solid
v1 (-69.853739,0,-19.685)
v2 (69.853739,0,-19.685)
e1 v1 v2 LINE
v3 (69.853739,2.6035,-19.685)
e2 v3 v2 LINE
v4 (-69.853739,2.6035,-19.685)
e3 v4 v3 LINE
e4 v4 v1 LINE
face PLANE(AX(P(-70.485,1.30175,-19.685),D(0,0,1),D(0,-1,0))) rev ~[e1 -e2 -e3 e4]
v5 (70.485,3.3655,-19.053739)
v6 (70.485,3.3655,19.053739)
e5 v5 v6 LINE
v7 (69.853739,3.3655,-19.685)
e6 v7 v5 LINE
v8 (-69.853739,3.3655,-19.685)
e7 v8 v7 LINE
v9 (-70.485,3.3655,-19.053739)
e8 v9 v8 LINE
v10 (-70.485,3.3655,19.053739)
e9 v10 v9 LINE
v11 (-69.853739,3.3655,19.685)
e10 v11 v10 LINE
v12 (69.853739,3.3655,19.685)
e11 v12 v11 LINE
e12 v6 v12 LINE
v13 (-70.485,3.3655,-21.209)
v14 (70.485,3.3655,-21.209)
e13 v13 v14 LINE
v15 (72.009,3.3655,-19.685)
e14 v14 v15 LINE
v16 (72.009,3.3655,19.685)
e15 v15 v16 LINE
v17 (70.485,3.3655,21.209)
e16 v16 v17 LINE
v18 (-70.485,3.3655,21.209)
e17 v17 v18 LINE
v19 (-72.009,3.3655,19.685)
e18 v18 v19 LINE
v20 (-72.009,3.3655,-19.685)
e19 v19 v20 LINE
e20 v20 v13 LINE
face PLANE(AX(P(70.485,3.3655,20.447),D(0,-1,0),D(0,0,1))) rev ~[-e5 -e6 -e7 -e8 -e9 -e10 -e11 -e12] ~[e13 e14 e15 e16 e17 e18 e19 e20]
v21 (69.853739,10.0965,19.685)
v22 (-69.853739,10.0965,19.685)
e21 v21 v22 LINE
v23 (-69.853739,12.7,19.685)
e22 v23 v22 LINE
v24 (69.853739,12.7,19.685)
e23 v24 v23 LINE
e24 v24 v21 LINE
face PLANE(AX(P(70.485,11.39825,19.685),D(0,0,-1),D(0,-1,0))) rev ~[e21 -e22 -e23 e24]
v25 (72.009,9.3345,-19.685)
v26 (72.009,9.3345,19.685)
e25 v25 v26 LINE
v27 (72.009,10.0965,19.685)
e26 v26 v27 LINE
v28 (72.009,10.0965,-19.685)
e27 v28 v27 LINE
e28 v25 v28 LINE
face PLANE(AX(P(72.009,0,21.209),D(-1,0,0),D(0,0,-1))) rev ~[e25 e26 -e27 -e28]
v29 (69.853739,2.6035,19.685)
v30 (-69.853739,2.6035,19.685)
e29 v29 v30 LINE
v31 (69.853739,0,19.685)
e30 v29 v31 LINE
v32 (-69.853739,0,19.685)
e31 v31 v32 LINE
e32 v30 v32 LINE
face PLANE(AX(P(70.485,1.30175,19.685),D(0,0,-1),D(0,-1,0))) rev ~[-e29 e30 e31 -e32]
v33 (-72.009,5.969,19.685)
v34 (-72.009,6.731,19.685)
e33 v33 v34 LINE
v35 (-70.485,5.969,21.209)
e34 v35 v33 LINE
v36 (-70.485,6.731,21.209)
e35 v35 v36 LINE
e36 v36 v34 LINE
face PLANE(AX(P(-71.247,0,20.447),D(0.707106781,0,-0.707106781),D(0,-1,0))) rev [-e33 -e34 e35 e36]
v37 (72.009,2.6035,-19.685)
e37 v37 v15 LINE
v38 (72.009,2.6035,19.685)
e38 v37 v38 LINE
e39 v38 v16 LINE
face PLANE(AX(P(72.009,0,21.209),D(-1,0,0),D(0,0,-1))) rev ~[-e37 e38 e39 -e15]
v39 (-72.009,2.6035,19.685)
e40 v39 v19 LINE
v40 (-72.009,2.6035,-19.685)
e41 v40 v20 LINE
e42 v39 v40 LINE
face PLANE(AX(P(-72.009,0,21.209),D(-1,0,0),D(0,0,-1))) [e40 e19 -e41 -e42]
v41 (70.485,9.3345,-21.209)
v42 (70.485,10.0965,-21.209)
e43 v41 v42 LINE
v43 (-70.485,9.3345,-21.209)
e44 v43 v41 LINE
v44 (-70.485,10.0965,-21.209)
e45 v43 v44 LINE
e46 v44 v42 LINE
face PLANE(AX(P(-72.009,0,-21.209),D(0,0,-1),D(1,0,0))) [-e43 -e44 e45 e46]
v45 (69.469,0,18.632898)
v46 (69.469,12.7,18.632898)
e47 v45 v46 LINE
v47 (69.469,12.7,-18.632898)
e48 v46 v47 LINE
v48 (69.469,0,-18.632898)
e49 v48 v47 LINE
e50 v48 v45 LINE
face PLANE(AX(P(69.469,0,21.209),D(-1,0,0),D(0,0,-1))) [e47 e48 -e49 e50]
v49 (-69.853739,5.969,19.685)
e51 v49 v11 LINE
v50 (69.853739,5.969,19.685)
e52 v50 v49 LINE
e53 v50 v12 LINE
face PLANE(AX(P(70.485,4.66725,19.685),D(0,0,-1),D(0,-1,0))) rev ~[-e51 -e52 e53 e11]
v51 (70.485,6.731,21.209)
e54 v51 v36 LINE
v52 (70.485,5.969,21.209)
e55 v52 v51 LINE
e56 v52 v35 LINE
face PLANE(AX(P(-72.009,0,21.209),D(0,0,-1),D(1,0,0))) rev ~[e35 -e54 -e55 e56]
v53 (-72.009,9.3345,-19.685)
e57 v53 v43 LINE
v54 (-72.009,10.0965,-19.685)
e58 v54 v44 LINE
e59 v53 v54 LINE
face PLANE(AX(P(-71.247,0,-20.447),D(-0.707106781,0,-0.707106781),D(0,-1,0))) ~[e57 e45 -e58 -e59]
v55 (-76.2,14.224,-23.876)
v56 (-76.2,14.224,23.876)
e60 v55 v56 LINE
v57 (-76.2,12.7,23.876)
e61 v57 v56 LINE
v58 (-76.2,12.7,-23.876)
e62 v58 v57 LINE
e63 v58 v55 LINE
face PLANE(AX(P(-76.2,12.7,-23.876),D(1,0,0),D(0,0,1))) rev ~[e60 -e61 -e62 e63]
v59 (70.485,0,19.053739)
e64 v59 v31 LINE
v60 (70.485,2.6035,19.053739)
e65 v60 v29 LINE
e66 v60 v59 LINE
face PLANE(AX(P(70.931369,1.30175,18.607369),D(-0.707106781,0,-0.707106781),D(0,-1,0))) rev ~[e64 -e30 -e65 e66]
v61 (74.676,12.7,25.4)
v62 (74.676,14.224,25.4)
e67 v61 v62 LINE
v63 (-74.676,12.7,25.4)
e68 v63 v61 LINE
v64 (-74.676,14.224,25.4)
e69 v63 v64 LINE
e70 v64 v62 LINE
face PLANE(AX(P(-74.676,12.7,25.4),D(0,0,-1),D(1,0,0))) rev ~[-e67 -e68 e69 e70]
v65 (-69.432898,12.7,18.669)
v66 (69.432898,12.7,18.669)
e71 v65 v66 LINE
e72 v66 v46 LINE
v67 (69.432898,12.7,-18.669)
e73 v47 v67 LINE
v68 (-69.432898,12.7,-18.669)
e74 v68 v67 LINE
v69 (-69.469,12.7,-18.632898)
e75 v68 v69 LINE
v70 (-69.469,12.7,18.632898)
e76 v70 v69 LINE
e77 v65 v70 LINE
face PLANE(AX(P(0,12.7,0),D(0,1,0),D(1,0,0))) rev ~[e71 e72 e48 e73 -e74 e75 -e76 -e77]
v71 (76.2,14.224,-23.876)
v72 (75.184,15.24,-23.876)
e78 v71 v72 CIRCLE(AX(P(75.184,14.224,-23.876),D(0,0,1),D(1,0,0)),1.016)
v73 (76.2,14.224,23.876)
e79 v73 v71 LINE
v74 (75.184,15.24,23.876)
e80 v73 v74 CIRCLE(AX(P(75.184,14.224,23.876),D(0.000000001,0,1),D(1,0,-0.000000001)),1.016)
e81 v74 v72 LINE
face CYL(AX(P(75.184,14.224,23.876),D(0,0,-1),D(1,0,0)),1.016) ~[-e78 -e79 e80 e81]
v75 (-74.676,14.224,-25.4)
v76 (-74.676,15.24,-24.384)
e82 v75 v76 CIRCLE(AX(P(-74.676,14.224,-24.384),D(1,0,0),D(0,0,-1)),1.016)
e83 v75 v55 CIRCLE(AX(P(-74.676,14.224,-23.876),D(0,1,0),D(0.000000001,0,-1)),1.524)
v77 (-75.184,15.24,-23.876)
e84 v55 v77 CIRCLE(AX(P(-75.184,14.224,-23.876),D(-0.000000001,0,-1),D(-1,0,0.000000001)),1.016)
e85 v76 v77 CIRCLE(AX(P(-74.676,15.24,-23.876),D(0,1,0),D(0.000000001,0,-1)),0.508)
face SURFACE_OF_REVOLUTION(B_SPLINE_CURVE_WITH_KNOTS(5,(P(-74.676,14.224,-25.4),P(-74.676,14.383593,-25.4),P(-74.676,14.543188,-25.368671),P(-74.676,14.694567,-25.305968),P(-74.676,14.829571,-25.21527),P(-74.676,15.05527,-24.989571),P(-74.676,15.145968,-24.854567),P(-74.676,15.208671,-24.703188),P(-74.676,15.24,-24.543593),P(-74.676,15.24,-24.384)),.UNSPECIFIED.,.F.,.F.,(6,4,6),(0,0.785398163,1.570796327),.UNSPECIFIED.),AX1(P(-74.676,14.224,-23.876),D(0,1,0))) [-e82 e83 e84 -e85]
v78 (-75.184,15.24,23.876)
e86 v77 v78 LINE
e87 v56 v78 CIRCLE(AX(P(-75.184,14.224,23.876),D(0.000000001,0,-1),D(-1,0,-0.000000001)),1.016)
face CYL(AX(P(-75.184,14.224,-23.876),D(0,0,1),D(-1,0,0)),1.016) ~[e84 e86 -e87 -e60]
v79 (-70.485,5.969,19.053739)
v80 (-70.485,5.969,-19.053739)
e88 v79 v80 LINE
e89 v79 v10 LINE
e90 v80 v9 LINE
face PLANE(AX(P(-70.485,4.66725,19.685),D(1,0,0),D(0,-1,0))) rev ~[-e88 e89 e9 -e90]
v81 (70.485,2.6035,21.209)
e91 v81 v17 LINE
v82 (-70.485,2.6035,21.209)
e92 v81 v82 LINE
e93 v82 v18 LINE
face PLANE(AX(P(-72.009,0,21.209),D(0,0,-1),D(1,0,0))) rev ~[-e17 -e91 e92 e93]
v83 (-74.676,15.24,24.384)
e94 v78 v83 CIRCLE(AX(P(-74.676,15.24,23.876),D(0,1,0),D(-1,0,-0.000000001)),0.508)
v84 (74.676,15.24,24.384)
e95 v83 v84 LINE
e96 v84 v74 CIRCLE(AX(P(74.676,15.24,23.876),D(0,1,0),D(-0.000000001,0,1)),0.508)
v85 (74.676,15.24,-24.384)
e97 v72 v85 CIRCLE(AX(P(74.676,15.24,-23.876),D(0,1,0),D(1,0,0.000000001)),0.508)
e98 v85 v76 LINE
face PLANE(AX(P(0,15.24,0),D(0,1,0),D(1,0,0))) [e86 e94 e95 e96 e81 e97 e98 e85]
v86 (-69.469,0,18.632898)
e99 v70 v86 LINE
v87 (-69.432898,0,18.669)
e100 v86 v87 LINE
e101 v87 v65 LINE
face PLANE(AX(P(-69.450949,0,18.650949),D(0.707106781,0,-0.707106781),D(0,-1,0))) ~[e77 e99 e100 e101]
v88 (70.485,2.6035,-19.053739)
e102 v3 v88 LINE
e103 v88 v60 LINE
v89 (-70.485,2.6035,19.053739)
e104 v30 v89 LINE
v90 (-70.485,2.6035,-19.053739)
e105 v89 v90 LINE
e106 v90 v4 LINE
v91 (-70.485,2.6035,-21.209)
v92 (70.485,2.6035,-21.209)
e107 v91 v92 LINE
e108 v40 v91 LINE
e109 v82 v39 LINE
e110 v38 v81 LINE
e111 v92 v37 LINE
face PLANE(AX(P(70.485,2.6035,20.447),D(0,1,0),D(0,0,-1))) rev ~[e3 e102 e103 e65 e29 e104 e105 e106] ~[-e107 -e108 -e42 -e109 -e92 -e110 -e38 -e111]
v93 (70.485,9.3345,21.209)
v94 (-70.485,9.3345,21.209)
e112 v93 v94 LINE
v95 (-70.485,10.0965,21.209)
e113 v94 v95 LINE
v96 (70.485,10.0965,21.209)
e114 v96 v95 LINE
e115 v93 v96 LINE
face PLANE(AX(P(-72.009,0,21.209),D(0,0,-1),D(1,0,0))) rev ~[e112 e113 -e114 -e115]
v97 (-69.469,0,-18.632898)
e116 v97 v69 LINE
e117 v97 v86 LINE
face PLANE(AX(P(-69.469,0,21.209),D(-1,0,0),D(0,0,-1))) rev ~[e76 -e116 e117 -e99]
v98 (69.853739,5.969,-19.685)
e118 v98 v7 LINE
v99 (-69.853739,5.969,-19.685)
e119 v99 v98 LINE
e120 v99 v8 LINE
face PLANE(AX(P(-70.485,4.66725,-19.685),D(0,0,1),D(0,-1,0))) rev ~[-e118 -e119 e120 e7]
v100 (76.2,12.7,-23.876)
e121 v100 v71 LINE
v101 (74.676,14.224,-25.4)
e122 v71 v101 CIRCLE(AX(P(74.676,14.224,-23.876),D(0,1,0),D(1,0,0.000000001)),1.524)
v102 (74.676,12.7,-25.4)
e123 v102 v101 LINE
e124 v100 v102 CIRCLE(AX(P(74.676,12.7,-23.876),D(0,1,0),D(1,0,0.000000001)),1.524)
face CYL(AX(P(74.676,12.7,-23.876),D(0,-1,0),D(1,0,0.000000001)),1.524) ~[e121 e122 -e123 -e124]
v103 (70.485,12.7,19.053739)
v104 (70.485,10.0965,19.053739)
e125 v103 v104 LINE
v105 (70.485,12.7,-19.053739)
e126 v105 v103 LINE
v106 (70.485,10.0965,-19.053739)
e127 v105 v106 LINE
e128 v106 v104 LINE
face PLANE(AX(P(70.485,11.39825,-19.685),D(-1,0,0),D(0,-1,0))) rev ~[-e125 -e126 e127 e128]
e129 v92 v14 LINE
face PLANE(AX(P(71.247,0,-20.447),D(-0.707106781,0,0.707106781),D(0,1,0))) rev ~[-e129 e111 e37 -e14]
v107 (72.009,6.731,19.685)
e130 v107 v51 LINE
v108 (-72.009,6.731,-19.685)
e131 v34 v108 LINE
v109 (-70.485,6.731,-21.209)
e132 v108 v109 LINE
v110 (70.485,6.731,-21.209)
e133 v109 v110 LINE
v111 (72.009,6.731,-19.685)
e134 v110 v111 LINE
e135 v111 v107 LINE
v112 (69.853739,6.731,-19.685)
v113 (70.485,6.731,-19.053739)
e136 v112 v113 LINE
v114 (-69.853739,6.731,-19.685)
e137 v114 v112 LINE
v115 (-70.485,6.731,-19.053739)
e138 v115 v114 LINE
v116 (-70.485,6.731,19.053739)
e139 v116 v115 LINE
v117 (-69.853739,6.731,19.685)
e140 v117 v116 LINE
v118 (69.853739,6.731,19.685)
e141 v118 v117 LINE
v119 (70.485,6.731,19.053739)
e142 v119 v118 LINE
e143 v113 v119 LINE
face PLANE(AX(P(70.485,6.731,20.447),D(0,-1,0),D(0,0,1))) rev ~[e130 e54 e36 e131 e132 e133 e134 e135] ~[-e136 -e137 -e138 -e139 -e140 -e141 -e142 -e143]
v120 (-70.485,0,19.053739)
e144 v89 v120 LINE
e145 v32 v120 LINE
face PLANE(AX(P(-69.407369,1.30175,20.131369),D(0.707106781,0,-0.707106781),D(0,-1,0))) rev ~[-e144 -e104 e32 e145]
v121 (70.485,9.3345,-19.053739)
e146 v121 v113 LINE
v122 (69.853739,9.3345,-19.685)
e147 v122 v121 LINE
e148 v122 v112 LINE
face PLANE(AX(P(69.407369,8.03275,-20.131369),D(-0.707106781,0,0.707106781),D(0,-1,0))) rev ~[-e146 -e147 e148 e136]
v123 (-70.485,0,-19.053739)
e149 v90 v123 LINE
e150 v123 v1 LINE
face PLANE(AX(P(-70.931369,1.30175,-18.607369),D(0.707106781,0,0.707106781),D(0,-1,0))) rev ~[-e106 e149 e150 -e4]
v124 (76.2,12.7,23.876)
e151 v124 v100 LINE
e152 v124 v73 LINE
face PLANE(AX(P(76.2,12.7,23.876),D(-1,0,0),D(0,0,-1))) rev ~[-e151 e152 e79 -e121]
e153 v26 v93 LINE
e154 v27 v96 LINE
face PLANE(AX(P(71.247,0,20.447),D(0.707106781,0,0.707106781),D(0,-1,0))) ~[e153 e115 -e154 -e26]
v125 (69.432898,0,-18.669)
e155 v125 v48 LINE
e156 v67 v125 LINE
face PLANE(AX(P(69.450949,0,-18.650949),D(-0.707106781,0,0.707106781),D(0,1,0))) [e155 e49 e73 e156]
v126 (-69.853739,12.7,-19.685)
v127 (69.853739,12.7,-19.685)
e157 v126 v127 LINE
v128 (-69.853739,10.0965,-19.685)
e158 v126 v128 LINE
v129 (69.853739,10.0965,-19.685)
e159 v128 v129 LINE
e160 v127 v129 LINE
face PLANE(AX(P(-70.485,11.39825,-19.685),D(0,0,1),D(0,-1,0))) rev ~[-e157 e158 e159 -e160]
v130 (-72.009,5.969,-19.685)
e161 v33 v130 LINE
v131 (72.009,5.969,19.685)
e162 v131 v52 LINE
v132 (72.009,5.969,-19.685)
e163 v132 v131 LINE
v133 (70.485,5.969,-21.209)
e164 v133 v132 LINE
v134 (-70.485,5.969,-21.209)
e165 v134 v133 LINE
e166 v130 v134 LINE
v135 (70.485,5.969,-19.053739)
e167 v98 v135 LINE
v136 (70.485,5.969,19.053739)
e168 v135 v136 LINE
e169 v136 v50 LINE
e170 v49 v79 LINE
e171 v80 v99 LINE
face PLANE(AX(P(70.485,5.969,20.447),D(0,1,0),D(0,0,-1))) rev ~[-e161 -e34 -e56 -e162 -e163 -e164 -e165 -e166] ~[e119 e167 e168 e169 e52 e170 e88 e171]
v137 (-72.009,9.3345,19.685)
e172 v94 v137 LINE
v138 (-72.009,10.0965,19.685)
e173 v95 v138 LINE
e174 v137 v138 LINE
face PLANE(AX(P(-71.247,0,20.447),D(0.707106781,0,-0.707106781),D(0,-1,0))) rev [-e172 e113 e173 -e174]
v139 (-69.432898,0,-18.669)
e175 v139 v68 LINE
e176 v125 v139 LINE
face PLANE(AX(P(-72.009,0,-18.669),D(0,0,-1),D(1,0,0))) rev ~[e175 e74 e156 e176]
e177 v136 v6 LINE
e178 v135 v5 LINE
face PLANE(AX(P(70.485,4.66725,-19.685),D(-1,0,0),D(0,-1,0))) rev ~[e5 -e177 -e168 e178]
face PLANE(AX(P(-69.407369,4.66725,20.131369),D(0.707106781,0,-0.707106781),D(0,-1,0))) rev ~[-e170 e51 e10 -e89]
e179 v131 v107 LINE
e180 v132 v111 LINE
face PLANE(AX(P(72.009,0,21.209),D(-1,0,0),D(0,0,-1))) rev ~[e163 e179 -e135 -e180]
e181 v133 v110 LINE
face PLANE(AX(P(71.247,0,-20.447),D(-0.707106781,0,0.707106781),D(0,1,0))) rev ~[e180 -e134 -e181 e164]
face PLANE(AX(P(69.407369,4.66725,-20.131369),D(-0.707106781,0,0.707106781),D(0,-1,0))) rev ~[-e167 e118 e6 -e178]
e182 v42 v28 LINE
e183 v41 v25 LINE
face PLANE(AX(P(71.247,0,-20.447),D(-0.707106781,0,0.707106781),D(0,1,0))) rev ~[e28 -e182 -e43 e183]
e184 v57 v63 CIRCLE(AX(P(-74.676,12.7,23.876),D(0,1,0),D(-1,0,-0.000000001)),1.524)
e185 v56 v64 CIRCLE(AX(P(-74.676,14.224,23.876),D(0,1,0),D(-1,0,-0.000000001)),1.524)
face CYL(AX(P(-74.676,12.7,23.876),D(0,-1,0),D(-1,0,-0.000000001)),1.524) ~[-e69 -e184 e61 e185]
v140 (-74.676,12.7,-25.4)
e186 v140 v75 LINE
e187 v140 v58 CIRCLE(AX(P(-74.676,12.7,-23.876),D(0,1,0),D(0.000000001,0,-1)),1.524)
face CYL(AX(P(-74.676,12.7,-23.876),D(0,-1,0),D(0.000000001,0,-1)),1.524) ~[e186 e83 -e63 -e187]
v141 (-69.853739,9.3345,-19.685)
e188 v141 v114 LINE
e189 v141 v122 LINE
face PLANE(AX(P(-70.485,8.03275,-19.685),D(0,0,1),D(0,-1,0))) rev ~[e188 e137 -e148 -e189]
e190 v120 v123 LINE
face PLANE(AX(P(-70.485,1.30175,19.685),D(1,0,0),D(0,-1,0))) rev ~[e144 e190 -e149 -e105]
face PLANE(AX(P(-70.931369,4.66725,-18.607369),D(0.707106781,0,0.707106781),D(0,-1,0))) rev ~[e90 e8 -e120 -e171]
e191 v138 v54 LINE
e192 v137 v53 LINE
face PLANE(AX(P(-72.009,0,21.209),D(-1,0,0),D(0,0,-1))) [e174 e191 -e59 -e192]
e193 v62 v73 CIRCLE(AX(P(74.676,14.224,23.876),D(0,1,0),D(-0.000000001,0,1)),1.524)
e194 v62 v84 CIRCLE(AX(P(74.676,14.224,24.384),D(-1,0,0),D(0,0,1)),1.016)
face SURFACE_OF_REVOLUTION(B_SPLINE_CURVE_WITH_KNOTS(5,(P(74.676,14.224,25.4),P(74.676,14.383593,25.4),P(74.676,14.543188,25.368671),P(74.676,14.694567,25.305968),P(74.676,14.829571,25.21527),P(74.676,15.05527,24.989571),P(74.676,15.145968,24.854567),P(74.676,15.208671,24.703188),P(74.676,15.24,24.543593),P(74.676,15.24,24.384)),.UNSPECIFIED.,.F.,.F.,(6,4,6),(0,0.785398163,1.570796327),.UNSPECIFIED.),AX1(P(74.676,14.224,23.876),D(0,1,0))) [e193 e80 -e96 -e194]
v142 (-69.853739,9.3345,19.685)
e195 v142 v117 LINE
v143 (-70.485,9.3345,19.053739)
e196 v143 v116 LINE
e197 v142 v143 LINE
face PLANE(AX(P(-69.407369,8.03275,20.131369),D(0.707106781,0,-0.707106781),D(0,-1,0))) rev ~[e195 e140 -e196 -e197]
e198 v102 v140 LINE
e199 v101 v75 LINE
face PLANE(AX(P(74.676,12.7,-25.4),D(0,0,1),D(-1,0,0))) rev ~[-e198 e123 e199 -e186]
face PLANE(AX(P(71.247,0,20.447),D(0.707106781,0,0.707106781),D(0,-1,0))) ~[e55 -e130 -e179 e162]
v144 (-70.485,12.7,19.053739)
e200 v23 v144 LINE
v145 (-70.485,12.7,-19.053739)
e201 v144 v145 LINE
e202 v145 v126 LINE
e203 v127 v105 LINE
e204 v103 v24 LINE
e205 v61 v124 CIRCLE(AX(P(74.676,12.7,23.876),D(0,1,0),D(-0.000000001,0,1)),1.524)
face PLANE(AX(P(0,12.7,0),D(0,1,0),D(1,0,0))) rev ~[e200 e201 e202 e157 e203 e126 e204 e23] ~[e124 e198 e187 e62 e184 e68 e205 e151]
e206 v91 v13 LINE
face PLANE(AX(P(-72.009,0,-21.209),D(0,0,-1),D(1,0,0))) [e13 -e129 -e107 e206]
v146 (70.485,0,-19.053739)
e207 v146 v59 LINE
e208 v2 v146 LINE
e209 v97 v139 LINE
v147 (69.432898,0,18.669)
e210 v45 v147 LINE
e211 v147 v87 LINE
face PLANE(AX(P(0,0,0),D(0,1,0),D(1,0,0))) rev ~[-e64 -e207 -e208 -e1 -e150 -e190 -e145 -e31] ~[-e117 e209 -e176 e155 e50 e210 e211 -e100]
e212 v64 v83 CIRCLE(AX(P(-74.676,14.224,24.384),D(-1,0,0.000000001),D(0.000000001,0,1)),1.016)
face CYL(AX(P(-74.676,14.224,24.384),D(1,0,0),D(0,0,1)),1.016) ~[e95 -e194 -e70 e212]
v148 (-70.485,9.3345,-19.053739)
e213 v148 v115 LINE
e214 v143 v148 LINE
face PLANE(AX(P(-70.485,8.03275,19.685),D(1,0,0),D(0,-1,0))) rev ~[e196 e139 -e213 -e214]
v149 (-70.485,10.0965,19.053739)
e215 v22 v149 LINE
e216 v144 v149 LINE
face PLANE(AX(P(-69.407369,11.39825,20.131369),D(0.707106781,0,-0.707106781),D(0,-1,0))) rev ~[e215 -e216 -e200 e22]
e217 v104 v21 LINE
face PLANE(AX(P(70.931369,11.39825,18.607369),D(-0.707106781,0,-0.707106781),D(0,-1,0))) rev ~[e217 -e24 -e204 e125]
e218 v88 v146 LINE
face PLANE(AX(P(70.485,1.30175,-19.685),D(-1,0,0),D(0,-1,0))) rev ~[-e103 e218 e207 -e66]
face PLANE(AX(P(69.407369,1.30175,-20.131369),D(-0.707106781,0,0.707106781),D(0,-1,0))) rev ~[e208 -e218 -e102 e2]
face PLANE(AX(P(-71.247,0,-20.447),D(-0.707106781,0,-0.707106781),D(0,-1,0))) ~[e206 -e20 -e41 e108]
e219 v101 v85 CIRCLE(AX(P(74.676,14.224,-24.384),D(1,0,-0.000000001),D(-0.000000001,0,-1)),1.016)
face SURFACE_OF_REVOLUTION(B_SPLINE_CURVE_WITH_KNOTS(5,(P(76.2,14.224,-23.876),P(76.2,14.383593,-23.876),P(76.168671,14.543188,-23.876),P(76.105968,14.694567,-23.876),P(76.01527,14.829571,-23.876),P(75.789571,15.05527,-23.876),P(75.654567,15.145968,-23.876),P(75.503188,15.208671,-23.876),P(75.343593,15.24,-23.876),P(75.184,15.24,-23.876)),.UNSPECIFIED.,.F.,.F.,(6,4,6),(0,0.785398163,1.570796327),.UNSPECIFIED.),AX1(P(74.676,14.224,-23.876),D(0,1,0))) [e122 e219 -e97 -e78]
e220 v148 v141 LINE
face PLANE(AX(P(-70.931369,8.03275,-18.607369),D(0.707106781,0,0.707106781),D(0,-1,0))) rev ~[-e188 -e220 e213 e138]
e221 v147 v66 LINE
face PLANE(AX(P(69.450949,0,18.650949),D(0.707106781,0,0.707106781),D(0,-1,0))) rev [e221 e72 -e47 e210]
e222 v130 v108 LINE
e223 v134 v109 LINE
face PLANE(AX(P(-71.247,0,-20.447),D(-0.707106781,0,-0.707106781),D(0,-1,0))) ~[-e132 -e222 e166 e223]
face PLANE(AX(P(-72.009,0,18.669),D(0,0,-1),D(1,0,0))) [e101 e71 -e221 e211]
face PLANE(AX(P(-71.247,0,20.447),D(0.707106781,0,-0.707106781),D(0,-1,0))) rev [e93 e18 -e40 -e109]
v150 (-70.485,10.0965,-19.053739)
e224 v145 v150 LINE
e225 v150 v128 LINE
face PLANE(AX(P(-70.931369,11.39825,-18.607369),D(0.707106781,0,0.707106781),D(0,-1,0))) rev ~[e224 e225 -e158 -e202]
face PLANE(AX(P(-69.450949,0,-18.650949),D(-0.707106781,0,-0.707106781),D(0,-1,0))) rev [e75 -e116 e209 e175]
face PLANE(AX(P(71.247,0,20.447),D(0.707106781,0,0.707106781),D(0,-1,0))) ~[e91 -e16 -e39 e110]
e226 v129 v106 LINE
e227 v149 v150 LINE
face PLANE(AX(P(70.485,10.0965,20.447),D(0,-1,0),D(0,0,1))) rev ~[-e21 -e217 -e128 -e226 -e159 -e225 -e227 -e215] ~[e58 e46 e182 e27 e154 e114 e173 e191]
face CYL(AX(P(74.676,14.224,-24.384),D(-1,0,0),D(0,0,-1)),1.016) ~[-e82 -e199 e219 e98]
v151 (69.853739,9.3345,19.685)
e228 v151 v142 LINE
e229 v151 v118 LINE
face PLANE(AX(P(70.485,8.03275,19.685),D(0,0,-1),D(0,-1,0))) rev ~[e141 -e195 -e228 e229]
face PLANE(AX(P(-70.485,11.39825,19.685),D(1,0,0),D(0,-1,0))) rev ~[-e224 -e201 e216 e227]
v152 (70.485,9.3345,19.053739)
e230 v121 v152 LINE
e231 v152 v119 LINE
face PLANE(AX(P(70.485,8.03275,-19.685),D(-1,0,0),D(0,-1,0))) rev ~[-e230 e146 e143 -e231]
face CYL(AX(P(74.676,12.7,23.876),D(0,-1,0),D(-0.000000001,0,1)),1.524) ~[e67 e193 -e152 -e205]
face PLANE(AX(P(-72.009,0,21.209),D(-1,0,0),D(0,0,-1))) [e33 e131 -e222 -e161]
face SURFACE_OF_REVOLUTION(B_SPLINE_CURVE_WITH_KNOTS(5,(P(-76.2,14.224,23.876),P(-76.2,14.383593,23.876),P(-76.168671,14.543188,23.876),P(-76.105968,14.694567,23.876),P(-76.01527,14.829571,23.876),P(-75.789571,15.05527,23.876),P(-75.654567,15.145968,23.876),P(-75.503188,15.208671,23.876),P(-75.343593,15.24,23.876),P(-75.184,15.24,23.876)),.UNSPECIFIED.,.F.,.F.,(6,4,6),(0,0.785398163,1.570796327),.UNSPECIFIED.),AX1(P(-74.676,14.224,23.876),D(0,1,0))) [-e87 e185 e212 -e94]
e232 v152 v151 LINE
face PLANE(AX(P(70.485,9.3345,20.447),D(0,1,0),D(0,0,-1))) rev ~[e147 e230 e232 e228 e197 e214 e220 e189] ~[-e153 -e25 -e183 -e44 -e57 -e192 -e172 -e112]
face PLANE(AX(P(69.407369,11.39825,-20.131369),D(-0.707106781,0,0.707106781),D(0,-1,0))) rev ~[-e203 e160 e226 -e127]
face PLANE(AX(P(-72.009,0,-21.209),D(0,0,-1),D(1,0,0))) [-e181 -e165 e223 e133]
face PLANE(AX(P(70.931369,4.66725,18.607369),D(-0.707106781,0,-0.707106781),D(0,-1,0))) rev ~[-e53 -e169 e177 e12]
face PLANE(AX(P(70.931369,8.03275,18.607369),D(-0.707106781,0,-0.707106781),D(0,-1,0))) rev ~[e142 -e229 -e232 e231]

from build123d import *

# Parameters (mm, degrees)
SKETCH1_W           = 144.018
SKETCH1_H           = 42.418
BOSS_EXTRUDE1_DEPTH = 12.7
BOSS_EXTRUDE2_DEPTH = 2.54
CHAMFER1_SIZE       = 1.524
SHELL1_T            = -2.54
SKETCH4_W           = 1.524
SKETCH4_H           = 2.6035
FILLET2_R           = 1.016


with BuildPart() as part:
    # Sketch1 → Boss-Extrude1 (new body)
    with BuildSketch(Plane(origin=(0, 0, 0), x_dir=(1, 0, 0), z_dir=(0, 1, 0))):
        Rectangle(SKETCH1_W, SKETCH1_H)
    extrude(amount=BOSS_EXTRUDE1_DEPTH)

    # Sketch2 → Boss-Extrude2 (add)
    with BuildSketch(Plane(origin=(0, 12.7, 0), x_dir=(1, 0, 0), z_dir=(0, 1, 0))):
        with BuildLine():
            Line((-76.2, 23.876), (-76.2, -23.876))
            ThreePointArc((-76.2, -23.876), (-75.753630735, -24.953630735), (-74.676, -25.4))
            Line((-74.676, -25.4), (74.676, -25.4))
            ThreePointArc((74.676, -25.4), (75.753630735, -24.953630735), (76.2, -23.876))
            Line((76.2, -23.876), (76.2, 23.876))
            ThreePointArc((76.2, 23.876), (75.753630735, 24.953630735), (74.676, 25.4))
            Line((74.676, 25.4), (-74.676, 25.4))
            ThreePointArc((-74.676, 25.4), (-75.753630735, 24.953630735), (-76.2, 23.876))
        make_face()
    extrude(amount=BOSS_EXTRUDE2_DEPTH)

    # Chamfer1
    chamfer1_edges = [part.edges().sort_by_distance(p)[0] for p in [
        (72.009, 6.35, 21.209),
        (-72.009, 6.35, 21.209),
        (-72.009, 6.35, -21.209),
        (72.009, 6.35, -21.209),
    ]]
    chamfer(chamfer1_edges, length=CHAMFER1_SIZE)

    # Shell1
    shell1_openings = [part.faces().sort_by_distance(p)[0] for p in [
        (0, 0, 0),
    ]]
    offset(amount=SHELL1_T, openings=shell1_openings, kind=Kind.INTERSECTION)

    # Cut-Sweep2: sweep along a path in Sketch3
    with BuildLine(Plane(origin=(0, 0, 0), x_dir=(-1, 0, 0), z_dir=(0, -1, 0))) as cut_sweep2_path:
        Line((-72.009, 19.685), (-72.009, -19.685))
        Line((-72.009, -19.685), (-70.485, -21.209))
        Line((-70.485, -21.209), (70.485, -21.209))
        Line((70.485, -21.209), (72.009, -19.685))
        Line((72.009, -19.685), (72.009, 19.685))
        Line((72.009, 19.685), (70.485, 21.209))
        Line((70.485, 21.209), (-70.485, 21.209))
        Line((-70.485, 21.209), (-72.009, 19.685))
    # Sketch4 → Cut-Sweep2 (sweep, cut)
    with BuildSketch(Plane.XY):
        with Locations((71.247, 1.30175)):
            Rectangle(SKETCH4_W, SKETCH4_H)
        with Locations((71.247, 8.03275)):
            Rectangle(SKETCH4_W, SKETCH4_H)
        with Locations((71.247, 11.39825)):
            Rectangle(SKETCH4_W, SKETCH4_H)
        with Locations((71.247, 4.66725)):
            Rectangle(SKETCH4_W, SKETCH4_H)
    sweep(path=cut_sweep2_path.line, transition=Transition.RIGHT, mode=Mode.SUBTRACT)

    # Fillet2
    fillet2_edges = [part.edges().sort_by_distance(p)[0] for p in [
        (-75.753630735, 15.24, 24.953630735),
        (0, 15.24, 25.4),
        (75.753630735, 15.24, 24.953630735),
        (76.2, 15.24, 0),
        (75.753630735, 15.24, -24.953630735),
        (0, 15.24, -25.4),
        (-75.753630735, 15.24, -24.953630735),
        (-76.2, 15.24, 0),
    ]]
    fillet(fillet2_edges, radius=FILLET2_R)


solid = part.part
